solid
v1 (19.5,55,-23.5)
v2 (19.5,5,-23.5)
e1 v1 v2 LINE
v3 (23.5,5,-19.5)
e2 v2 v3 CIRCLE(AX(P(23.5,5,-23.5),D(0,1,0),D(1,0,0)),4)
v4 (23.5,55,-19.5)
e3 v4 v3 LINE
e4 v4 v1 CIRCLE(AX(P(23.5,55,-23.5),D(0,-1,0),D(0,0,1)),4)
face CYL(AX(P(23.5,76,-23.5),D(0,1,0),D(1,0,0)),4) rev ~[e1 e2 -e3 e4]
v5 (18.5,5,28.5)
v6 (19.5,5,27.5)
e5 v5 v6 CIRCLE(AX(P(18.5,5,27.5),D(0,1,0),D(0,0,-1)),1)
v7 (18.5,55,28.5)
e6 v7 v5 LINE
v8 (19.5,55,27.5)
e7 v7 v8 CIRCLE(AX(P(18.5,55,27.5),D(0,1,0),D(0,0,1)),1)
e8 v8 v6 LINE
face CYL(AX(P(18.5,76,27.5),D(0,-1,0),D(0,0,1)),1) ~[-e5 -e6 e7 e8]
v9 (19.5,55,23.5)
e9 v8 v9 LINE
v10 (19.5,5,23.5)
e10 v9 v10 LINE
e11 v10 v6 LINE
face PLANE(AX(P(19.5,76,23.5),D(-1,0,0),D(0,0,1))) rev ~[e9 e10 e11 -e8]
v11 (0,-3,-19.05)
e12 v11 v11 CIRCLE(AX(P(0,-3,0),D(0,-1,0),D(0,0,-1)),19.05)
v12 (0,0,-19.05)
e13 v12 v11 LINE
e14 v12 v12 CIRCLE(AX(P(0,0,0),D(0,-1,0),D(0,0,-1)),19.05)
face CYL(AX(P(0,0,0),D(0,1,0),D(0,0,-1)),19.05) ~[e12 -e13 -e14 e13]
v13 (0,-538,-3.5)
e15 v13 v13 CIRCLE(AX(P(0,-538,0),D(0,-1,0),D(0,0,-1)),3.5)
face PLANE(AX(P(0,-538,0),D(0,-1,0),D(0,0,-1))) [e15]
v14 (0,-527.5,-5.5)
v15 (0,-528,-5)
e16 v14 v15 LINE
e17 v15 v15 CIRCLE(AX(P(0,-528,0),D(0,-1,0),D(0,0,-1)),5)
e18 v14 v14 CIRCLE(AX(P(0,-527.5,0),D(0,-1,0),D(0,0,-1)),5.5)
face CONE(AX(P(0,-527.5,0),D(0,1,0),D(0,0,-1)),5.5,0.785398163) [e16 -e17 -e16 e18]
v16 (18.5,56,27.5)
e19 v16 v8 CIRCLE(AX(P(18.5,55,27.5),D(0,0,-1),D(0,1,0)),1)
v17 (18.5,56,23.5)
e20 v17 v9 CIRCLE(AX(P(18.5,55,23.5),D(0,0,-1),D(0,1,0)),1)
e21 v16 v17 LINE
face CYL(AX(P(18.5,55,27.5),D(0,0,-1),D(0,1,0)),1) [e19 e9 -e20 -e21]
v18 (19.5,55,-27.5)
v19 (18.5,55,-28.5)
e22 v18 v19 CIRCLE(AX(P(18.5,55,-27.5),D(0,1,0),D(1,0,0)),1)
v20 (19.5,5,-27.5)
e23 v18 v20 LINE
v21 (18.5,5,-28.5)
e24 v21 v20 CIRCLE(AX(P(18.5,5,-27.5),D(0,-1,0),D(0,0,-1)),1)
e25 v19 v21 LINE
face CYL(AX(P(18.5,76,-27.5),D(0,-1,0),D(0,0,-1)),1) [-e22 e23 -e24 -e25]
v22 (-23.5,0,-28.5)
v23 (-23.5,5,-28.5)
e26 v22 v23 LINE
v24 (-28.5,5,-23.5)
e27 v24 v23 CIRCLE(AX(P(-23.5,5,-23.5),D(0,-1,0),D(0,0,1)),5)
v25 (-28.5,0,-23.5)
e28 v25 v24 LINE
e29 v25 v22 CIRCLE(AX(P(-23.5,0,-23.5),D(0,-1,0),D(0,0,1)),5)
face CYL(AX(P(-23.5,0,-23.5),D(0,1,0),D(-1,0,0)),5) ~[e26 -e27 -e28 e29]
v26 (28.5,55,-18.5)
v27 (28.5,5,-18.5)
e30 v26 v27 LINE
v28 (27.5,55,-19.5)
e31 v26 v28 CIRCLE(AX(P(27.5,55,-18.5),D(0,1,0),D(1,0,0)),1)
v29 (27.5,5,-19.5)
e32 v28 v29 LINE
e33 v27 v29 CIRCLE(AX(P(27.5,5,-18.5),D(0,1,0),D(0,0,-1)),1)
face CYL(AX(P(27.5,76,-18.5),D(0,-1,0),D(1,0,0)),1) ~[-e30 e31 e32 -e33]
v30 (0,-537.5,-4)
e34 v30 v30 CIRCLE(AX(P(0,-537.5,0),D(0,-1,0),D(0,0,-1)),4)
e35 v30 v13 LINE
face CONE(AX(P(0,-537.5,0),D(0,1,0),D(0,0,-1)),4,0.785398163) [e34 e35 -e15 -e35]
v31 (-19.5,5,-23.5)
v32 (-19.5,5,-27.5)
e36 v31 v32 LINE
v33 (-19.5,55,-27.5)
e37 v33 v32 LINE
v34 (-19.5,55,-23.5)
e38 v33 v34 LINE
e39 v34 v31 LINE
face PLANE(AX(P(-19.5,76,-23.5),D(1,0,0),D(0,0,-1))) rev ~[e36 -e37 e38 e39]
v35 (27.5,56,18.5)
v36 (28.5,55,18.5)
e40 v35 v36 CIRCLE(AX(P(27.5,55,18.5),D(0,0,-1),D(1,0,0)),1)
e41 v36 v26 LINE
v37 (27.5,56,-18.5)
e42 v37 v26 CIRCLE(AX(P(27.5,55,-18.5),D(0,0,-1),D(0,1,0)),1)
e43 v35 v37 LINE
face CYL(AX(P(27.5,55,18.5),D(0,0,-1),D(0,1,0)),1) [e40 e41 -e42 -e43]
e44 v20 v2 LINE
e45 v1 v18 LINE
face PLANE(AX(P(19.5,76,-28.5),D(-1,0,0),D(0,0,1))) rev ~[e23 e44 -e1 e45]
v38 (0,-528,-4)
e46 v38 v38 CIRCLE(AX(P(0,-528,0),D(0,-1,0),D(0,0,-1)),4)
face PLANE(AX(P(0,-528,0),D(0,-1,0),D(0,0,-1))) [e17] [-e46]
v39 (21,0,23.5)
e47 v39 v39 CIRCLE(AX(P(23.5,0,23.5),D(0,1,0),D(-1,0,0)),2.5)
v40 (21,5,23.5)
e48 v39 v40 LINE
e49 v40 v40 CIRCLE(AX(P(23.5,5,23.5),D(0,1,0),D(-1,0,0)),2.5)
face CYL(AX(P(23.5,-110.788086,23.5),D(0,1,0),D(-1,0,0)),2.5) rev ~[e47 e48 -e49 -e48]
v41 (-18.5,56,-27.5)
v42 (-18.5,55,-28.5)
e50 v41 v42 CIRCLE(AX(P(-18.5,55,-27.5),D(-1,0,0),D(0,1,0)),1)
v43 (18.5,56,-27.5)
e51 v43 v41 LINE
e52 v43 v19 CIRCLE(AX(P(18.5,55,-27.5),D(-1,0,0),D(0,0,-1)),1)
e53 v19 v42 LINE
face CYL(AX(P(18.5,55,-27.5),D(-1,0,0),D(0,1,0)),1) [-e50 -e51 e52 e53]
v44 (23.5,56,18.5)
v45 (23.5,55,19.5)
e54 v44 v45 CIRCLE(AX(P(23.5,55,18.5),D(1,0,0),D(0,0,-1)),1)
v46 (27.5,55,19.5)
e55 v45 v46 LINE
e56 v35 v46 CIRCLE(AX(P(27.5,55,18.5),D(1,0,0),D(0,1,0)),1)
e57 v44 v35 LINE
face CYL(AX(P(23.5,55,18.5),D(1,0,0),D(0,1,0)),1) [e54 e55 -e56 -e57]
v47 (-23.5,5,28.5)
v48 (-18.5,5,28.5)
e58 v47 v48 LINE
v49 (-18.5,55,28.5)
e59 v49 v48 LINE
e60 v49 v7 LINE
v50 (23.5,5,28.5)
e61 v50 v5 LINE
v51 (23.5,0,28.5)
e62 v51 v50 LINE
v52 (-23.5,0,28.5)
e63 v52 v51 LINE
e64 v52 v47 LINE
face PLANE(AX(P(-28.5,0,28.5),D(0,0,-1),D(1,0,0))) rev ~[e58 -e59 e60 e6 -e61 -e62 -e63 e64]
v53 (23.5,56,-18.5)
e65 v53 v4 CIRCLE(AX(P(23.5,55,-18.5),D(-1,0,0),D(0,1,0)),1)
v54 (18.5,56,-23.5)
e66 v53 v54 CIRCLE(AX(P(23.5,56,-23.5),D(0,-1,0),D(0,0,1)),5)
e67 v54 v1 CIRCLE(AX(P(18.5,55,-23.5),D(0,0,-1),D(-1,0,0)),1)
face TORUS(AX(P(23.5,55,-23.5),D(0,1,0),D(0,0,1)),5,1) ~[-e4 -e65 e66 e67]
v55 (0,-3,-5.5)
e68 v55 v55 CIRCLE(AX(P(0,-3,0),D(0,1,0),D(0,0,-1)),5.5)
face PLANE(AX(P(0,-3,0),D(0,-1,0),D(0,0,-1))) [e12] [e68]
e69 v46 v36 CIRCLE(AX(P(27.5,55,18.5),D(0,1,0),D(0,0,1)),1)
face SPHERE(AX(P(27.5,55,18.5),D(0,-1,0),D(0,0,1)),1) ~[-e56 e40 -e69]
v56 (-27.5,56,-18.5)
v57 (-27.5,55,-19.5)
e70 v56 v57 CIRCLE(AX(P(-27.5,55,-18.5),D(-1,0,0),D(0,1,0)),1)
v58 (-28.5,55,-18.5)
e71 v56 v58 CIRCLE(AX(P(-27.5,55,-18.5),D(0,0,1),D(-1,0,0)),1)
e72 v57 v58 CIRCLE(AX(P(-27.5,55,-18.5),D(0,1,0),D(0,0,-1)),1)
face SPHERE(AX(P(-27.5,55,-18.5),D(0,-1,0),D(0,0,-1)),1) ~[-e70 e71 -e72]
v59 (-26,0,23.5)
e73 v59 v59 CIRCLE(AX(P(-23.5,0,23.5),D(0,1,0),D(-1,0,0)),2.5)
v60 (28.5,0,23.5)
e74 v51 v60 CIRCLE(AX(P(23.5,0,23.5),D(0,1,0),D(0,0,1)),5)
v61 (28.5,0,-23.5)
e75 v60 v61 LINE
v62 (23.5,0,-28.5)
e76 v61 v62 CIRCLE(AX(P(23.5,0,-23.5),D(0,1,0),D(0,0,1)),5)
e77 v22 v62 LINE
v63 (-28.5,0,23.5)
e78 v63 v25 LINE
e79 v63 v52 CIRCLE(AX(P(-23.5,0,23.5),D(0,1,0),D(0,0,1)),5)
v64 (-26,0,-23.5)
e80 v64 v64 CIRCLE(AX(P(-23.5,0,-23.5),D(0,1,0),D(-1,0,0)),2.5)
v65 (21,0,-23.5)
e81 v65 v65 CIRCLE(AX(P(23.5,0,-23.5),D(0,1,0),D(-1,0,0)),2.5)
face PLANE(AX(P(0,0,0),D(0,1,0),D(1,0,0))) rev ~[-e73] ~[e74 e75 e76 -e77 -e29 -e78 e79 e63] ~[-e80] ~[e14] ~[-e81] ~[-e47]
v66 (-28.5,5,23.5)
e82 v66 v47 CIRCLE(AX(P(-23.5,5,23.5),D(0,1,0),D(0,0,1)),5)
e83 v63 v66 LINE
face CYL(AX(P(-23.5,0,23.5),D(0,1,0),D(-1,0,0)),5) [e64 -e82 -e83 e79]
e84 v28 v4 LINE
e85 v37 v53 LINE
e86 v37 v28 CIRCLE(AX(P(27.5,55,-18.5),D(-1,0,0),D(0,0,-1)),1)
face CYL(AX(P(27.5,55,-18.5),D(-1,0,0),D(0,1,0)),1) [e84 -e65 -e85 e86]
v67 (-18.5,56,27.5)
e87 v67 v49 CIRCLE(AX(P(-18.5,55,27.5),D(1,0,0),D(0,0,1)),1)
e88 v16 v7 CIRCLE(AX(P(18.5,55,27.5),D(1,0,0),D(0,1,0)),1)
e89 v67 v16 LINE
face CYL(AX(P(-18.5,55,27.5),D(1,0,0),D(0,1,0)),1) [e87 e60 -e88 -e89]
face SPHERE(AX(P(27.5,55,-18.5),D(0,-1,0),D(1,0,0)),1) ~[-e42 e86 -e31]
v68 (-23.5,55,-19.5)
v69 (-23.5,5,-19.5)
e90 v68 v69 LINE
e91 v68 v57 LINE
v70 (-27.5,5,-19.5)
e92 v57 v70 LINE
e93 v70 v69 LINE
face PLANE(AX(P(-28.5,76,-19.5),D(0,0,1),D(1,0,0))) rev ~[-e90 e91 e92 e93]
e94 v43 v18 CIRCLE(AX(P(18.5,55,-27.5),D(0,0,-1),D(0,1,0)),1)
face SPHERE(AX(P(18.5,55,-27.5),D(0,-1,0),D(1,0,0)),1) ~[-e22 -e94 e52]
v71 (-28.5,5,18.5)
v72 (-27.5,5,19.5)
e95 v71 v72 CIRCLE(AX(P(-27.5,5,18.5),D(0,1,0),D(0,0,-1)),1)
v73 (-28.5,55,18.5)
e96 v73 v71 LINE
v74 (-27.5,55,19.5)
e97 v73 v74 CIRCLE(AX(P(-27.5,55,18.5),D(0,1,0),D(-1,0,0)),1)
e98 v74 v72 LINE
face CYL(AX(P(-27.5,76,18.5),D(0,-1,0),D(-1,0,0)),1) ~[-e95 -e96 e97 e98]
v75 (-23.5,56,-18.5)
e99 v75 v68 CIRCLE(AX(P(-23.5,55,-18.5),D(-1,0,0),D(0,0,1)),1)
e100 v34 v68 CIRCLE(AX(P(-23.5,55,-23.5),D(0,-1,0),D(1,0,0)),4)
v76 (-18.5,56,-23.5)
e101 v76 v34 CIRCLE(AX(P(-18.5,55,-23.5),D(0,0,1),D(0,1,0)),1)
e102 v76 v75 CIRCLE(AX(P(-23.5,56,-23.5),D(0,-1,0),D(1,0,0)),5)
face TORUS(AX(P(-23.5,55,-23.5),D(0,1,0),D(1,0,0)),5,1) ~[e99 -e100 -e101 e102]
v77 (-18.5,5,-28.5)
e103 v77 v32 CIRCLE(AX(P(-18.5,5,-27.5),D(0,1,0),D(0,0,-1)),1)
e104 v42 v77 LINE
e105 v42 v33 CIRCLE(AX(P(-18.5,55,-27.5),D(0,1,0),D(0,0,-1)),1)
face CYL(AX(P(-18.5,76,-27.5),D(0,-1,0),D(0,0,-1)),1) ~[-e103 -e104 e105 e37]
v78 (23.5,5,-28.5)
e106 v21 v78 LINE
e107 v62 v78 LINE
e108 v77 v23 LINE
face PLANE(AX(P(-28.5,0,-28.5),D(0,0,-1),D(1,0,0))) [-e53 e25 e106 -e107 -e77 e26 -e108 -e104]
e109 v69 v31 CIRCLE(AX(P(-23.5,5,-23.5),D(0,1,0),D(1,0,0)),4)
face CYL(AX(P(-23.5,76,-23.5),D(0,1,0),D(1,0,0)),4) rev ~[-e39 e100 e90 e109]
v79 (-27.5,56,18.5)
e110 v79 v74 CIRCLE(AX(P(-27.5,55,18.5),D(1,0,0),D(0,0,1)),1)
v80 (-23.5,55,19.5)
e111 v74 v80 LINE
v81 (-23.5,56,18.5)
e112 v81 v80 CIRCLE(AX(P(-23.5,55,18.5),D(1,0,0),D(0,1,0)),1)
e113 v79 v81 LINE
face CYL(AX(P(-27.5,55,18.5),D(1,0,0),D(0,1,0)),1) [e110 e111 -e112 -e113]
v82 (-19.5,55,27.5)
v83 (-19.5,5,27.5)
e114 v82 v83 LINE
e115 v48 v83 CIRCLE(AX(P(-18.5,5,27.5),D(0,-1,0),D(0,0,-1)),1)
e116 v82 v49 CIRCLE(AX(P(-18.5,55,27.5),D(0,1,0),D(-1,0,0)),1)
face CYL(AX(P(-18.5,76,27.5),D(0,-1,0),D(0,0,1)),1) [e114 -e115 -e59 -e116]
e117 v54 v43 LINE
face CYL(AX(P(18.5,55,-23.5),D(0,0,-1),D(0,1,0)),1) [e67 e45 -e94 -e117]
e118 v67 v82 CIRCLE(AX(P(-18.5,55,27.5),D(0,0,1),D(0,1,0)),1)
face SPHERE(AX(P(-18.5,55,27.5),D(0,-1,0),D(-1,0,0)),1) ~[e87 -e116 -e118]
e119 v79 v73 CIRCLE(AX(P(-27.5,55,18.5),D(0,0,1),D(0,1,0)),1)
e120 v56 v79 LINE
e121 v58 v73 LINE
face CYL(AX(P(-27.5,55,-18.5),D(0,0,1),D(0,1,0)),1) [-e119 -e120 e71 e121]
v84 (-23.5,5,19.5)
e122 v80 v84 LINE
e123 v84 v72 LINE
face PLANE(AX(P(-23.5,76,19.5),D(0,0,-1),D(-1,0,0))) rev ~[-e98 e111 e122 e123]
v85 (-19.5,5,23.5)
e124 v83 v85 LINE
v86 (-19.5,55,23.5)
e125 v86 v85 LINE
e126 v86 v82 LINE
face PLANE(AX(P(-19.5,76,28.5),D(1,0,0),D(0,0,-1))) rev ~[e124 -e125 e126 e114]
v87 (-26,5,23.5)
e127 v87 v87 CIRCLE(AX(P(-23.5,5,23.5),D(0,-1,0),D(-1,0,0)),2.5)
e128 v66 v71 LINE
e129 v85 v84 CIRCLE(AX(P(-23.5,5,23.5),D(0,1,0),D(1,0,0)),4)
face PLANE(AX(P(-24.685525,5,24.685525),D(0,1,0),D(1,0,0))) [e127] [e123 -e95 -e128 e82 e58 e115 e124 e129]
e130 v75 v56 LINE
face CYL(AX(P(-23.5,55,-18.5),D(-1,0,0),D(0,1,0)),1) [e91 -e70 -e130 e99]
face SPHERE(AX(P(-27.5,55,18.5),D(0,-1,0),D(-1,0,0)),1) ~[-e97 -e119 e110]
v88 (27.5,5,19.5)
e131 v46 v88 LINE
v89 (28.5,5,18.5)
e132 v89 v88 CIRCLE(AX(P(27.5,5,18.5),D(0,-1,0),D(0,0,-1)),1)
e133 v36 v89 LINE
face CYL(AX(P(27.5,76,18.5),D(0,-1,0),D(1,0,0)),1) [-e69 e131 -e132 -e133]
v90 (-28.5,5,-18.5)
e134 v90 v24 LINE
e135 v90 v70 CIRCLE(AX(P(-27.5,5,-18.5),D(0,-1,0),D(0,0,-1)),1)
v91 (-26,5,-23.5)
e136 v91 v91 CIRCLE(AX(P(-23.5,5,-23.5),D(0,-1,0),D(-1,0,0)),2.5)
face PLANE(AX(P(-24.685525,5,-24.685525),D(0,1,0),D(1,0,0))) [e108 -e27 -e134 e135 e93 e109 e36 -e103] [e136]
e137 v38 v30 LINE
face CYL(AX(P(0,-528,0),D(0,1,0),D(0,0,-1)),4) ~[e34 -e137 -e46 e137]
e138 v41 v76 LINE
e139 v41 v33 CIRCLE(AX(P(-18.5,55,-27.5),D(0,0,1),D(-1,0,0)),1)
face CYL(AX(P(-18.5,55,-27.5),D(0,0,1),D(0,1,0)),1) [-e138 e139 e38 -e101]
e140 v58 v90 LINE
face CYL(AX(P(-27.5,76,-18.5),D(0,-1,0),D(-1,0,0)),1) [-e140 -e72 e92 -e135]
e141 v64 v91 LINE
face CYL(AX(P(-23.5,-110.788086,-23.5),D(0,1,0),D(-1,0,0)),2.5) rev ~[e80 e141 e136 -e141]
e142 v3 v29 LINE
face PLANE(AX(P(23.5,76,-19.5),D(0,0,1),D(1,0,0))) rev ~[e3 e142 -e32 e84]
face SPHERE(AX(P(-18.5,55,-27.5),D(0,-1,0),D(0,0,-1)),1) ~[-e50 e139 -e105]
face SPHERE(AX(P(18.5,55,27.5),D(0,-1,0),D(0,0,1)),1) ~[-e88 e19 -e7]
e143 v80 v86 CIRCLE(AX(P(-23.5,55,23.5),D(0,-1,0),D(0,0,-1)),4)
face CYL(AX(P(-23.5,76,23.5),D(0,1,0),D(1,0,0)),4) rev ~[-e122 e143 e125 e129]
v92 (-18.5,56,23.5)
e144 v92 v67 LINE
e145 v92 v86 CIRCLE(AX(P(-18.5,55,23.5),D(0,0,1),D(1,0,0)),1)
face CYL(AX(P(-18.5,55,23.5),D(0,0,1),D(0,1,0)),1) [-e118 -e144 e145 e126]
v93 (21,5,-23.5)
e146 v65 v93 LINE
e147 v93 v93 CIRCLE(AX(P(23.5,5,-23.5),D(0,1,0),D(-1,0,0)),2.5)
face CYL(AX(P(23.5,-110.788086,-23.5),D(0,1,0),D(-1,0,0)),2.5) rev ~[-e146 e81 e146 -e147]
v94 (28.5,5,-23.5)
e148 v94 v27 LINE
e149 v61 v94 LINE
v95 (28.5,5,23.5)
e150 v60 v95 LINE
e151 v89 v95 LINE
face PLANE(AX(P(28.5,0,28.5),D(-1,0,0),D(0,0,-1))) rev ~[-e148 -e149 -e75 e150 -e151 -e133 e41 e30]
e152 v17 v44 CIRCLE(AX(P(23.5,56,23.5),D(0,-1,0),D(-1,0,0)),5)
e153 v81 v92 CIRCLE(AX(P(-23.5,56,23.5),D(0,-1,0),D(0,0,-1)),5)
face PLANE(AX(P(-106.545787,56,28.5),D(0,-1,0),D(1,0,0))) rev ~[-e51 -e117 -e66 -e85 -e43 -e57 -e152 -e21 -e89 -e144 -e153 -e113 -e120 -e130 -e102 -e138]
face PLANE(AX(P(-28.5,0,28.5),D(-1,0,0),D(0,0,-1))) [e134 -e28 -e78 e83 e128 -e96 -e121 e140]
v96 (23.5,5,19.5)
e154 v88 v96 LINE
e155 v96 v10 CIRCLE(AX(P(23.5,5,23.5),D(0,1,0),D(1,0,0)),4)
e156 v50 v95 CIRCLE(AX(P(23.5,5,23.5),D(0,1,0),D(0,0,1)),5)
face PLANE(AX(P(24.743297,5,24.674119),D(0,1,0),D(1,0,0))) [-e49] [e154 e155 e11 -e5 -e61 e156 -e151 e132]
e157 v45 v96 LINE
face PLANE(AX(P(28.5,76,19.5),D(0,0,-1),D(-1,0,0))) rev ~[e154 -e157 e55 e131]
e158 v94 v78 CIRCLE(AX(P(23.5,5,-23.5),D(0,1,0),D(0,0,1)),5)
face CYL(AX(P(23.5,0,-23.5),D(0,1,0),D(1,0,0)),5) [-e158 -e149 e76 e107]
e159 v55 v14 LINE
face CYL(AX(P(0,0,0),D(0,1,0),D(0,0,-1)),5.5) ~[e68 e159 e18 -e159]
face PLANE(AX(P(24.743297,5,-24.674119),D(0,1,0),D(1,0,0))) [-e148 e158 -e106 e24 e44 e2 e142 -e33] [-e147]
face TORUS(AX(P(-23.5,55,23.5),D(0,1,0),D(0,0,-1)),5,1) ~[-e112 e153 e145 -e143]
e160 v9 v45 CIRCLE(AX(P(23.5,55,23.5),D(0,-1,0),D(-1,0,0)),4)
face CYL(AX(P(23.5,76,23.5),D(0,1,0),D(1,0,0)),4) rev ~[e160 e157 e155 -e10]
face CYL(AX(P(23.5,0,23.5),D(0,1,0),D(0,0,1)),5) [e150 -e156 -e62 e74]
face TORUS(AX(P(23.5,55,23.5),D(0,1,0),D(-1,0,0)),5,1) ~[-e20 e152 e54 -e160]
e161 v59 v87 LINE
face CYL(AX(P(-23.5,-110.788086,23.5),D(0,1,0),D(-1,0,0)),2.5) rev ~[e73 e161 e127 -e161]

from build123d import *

# Parameters (mm, degrees)
SKETCH1_W                = 57
SKETCH1_H                = 57
EXTRUDE1_DEPTH           = 76
F_5_0_5_DIAMETER_HOLE1_D = 5
SKETCH6_R                = 4
SKETCH6_R_2              = 2.5
EXTRUDE4_DEPTH           = 71
FILLET1_R                = 5
SKETCH7_R                = 3
EXTRUDE5_DEPTH           = 101
SKETCH8_R                = 19.05
EXTRUDE6_DEPTH           = 3
FILLET2_R                = 1
SKETCH9_R                = 5.5
BOSS_EXTRUDE1_DEPTH      = 528
CHAMFER1_SIZE            = 0.5
SKETCH10_R               = 4
BOSS_EXTRUDE2_DEPTH      = 10
CHAMFER2_SIZE            = 0.5
CUT_EXTRUDE1_REACH       = 543.761
SKETCH11_W               = 149.278962391
SKETCH11_H               = 91.97748865
FILLET3_R                = 1


with BuildPart() as part:
    # Sketch1 → Extrude1 (new body)
    with BuildSketch(Plane(origin=(0, 0, 0), x_dir=(1, 0, 0), z_dir=(0, 1, 0))):
        Rectangle(SKETCH1_W, SKETCH1_H)
    extrude(amount=EXTRUDE1_DEPTH)

    # Ø5.0 (5) Diameter Hole1 (through all)
    with Locations(Plane.XZ):
        with Locations((-23.5, 23.5), (23.5, 23.5), (23.5, -23.5), (-23.5, -23.5)):
            Hole(F_5_0_5_DIAMETER_HOLE1_D / 2)

    # Sketch6 → Extrude4 (cut)
    # profile 1 of 12: a face of its own
    with BuildSketch(Plane(origin=(0, 76, 0), x_dir=(1, 0, 0), z_dir=(0, 1, 0))):
        Polygon((-28.5, 28.5), (-19.5, 28.5), (-19.5, 32.511741208), (-33.908905561, 32.511741208), (-33.908905561, 19.5), (-28.5, 19.5), align=None)
    # profile 2 of 12: a face of its own
    with BuildSketch(Plane(origin=(0, 76, 0), x_dir=(1, 0, 0), z_dir=(0, 1, 0))):
        with BuildLine():
            ThreePointArc((-23.5, 19.5), (-26.328427125, 26.328427125), (-19.5, 23.5))
            Line((-19.5, 23.5), (-19.5, 28.5))
            Line((-19.5, 28.5), (-28.5, 28.5))
            Line((-28.5, 28.5), (-28.5, 19.5))
            Line((-28.5, 19.5), (-23.5, 19.5))
        make_face()
    # profile 3 of 12: a face of its own
    with BuildSketch(Plane(origin=(0, 76, 0), x_dir=(1, 0, 0), z_dir=(0, 1, 0))):
        with Locations((-23.5, 23.5)):
            Circle(SKETCH6_R)
        with Locations(Location((-23.5, 23.5, 0), (0, 0, 90))):
            Circle(SKETCH6_R_2, mode=Mode.SUBTRACT)
    # profile 4 of 12: a face of its own
    with BuildSketch(Plane(origin=(0, 76, 0), x_dir=(1, 0, 0), z_dir=(0, 1, 0))):
        Polygon((19.5, 36.471560472), (19.5, 28.5), (28.5, 28.5), (28.5, 19.5), (41.168352552, 19.5), (41.168352552, 36.471560472), align=None)
    # profile 5 of 12: a face of its own
    with BuildSketch(Plane(origin=(0, 76, 0), x_dir=(1, 0, 0), z_dir=(0, 1, 0))):
        with BuildLine():
            Line((28.5, 28.5), (19.5, 28.5))
            Line((19.5, 28.5), (19.5, 23.5))
            ThreePointArc((19.5, 23.5), (23.5, 27.5), (27.5, 23.5))
            ThreePointArc((27.5, 23.5), (26.328427125, 20.671572875), (23.5, 19.5))
            Line((23.5, 19.5), (28.5, 19.5))
            Line((28.5, 19.5), (28.5, 28.5))
        make_face()
    # profile 6 of 12: a face of its own
    with BuildSketch(Plane(origin=(0, 76, 0), x_dir=(1, 0, 0), z_dir=(0, 1, 0))):
        with Locations((23.5, 23.5)):
            Circle(SKETCH6_R)
        with Locations(Location((23.5, 23.5, 0), (0, 0, 90))):
            Circle(SKETCH6_R_2, mode=Mode.SUBTRACT)
    # profile 7 of 12: a face of its own
    with BuildSketch(Plane(origin=(0, 76, 0), x_dir=(1, 0, 0), z_dir=(0, 1, 0))):
        with Locations((23.5, -23.5)):
            Circle(SKETCH6_R)
        with Locations(Location((23.5, -23.5, 0), (0, 0, 90))):
            Circle(SKETCH6_R_2, mode=Mode.SUBTRACT)
    # profile 8 of 12: a face of its own
    with BuildSketch(Plane(origin=(0, 76, 0), x_dir=(1, 0, 0), z_dir=(0, 1, 0))):
        with BuildLine():
            Line((28.5, -28.5), (28.5, -19.5))
            Line((28.5, -19.5), (23.5, -19.5))
            ThreePointArc((23.5, -19.5), (26.328427125, -20.671572875), (27.5, -23.5))
            ThreePointArc((27.5, -23.5), (23.5, -27.5), (19.5, -23.5))
            Line((19.5, -23.5), (19.5, -28.5))
            Line((19.5, -28.5), (28.5, -28.5))
        make_face()
    # profile 9 of 12: a face of its own
    with BuildSketch(Plane(origin=(0, 76, 0), x_dir=(1, 0, 0), z_dir=(0, 1, 0))):
        Polygon((44.252209519, -19.5), (28.5, -19.5), (28.5, -28.5), (19.5, -28.5), (19.5, -40.050429997), (44.252209519, -40.050429997), align=None)
    # profile 10 of 12: a face of its own
    with BuildSketch(Plane(origin=(0, 76, 0), x_dir=(1, 0, 0), z_dir=(0, 1, 0))):
        Polygon((-28.5, -28.5), (-28.5, -19.5), (-37.670786859, -19.5), (-37.670786859, -37.828231874), (-19.5, -37.828231874), (-19.5, -28.5), align=None)
    # profile 11 of 12: a face of its own
    with BuildSketch(Plane(origin=(0, 76, 0), x_dir=(1, 0, 0), z_dir=(0, 1, 0))):
        with BuildLine():
            Line((-23.5, -19.5), (-28.5, -19.5))
            Line((-28.5, -19.5), (-28.5, -28.5))
            Line((-28.5, -28.5), (-19.5, -28.5))
            Line((-19.5, -28.5), (-19.5, -23.5))
            ThreePointArc((-19.5, -23.5), (-26.328427125, -26.328427125), (-23.5, -19.5))
        make_face()
    # profile 12 of 12: a face of its own
    with BuildSketch(Plane(origin=(0, 76, 0), x_dir=(1, 0, 0), z_dir=(0, 1, 0))):
        with Locations((-23.5, -23.5)):
            Circle(SKETCH6_R)
        with Locations(Location((-23.5, -23.5, 0), (0, 0, 90))):
            Circle(SKETCH6_R_2, mode=Mode.SUBTRACT)
    extrude(amount=-EXTRUDE4_DEPTH, mode=Mode.SUBTRACT)

    # Fillet1
    fillet1_edges = [part.edges().sort_by_distance(p)[0] for p in [
        (-28.5, 2.5, 28.5),
        (-28.5, 2.5, -28.5),
        (28.5, 2.5, -28.5),
        (28.5, 2.5, 28.5),
    ]]
    fillet(fillet1_edges, radius=FILLET1_R)



with BuildPart() as body_2:
    # Sketch7 → Extrude5 (new body)
    with BuildSketch(Plane(origin=(0, 76, 0), x_dir=(1, 0, 0), z_dir=(0, 1, 0))):
        with Locations(Location((0, 0, 0), (0, 0, 270))):
            Circle(SKETCH7_R)
    extrude(amount=-EXTRUDE5_DEPTH)


with BuildPart() as part_1:
    add(part.part)

    add(body_2.part)  # Extrude6 merges body 2
    # Sketch8 → Extrude6 (add)
    with BuildSketch(Plane.XZ):
        with Locations(Location((0, 0, 0), (0, 0, 270))):
            Circle(SKETCH8_R)
    extrude(amount=EXTRUDE6_DEPTH)

    # Fillet2
    fillet2_edges = [part_1.edges().sort_by_distance(p)[0] for p in [
        (-28.5, 40.5, 19.5),
        (0, 76, 28.5),
        (-19.5, 40.5, 28.5),
        (-19.5, 76, 26),
        (-20.671572875, 76, 20.671572875),
        (-26, 76, 19.5),
        (-28.5, 76, 0),
        (-28.5, 40.5, -19.5),
        (-19.5, 40.5, -28.5),
        (-19.5, 76, -26),
        (-26, 76, -19.5),
        (-20.671572875, 76, -20.671572875),
        (0, 76, -28.5),
        (19.5, 76, -26),
        (26, 76, -19.5),
        (20.671572875, 76, -20.671572875),
        (19.5, 40.5, -28.5),
        (28.5, 40.5, -19.5),
        (19.5, 40.5, 28.5),
        (28.5, 76, 0),
        (26, 76, 19.5),
        (19.5, 76, 26),
        (20.671572875, 76, 20.671572875),
        (28.5, 40.5, 19.5),
    ]]
    fillet(fillet2_edges, radius=FILLET2_R)

    # Sketch9 → Boss-Extrude1 (add)
    with BuildSketch(Plane.XZ):
        with Locations(Location((0, 0, 0), (0, 0, 270))):
            Circle(SKETCH9_R)
    extrude(amount=BOSS_EXTRUDE1_DEPTH)

    # Chamfer1
    chamfer1_edges = [part_1.edges().sort_by_distance(p)[0] for p in [
        (0, -528, 5.5),
    ]]
    chamfer(chamfer1_edges, length=CHAMFER1_SIZE)

    # Sketch10 → Boss-Extrude2 (add)
    with BuildSketch(Plane.XZ.offset(528)):
        with Locations(Location((0, 0, 0), (0, 0, 270))):
            Circle(SKETCH10_R)
    extrude(amount=BOSS_EXTRUDE2_DEPTH)

    # Chamfer2
    chamfer2_edges = [part_1.edges().sort_by_distance(p)[0] for p in [
        (0, -538, 4),
    ]]
    chamfer(chamfer2_edges, length=CHAMFER2_SIZE)

    # Sketch11 → Cut-Extrude1 (cut, up to next)
    with BuildSketch(Plane.XY.offset(28.5), mode=Mode.PRIVATE) as cut_extrude1_sk1:
        with Locations((-31.906305919, 101.988744325)):
            Rectangle(SKETCH11_W, SKETCH11_H)
    cut_extrude1_tool1 = extrude(cut_extrude1_sk1.sketch, amount=-CUT_EXTRUDE1_REACH, mode=Mode.PRIVATE) & part_1.part
    add(cut_extrude1_tool1.solids().sort_by_distance((-31.906306, 101.988744, 28.5))[0], mode=Mode.SUBTRACT)

    # Fillet3
    fillet3_edges = [part_1.edges().sort_by_distance(p)[0] for p in [
        (19.5, 56, 25.5),
        (19.207106781, 56, 28.207106781),
        (-19.207106781, 56, 28.207106781),
        (-28.207106781, 56, 19.207106781),
        (-28.207106781, 56, -19.207106781),
        (-19.207106781, 56, -28.207106781),
        (19.207106781, 56, -28.207106781),
        (19.5, 56, -25.5),
        (25.5, 56, -19.5),
        (28.207106781, 56, -19.207106781),
        (28.207106781, 56, 19.207106781),
        (25.5, 56, 19.5),
        (0, 56, 28.5),
        (28.5, 56, 0),
        (0, 56, -28.5),
        (-28.5, 56, 0),
        (-25.5, 56, -19.5),
        (-19.5, 56, -25.5),
        (-20.671572875, 56, -20.671572875),
        (20.671572875, 56, -20.671572875),
        (20.671572875, 56, 20.671572875),
        (-19.5, 56, 25.5),
        (-25.5, 56, 19.5),
        (-20.671572875, 56, 20.671572875),
    ]]
    fillet(fillet3_edges, radius=FILLET3_R)


solid = part_1.part
